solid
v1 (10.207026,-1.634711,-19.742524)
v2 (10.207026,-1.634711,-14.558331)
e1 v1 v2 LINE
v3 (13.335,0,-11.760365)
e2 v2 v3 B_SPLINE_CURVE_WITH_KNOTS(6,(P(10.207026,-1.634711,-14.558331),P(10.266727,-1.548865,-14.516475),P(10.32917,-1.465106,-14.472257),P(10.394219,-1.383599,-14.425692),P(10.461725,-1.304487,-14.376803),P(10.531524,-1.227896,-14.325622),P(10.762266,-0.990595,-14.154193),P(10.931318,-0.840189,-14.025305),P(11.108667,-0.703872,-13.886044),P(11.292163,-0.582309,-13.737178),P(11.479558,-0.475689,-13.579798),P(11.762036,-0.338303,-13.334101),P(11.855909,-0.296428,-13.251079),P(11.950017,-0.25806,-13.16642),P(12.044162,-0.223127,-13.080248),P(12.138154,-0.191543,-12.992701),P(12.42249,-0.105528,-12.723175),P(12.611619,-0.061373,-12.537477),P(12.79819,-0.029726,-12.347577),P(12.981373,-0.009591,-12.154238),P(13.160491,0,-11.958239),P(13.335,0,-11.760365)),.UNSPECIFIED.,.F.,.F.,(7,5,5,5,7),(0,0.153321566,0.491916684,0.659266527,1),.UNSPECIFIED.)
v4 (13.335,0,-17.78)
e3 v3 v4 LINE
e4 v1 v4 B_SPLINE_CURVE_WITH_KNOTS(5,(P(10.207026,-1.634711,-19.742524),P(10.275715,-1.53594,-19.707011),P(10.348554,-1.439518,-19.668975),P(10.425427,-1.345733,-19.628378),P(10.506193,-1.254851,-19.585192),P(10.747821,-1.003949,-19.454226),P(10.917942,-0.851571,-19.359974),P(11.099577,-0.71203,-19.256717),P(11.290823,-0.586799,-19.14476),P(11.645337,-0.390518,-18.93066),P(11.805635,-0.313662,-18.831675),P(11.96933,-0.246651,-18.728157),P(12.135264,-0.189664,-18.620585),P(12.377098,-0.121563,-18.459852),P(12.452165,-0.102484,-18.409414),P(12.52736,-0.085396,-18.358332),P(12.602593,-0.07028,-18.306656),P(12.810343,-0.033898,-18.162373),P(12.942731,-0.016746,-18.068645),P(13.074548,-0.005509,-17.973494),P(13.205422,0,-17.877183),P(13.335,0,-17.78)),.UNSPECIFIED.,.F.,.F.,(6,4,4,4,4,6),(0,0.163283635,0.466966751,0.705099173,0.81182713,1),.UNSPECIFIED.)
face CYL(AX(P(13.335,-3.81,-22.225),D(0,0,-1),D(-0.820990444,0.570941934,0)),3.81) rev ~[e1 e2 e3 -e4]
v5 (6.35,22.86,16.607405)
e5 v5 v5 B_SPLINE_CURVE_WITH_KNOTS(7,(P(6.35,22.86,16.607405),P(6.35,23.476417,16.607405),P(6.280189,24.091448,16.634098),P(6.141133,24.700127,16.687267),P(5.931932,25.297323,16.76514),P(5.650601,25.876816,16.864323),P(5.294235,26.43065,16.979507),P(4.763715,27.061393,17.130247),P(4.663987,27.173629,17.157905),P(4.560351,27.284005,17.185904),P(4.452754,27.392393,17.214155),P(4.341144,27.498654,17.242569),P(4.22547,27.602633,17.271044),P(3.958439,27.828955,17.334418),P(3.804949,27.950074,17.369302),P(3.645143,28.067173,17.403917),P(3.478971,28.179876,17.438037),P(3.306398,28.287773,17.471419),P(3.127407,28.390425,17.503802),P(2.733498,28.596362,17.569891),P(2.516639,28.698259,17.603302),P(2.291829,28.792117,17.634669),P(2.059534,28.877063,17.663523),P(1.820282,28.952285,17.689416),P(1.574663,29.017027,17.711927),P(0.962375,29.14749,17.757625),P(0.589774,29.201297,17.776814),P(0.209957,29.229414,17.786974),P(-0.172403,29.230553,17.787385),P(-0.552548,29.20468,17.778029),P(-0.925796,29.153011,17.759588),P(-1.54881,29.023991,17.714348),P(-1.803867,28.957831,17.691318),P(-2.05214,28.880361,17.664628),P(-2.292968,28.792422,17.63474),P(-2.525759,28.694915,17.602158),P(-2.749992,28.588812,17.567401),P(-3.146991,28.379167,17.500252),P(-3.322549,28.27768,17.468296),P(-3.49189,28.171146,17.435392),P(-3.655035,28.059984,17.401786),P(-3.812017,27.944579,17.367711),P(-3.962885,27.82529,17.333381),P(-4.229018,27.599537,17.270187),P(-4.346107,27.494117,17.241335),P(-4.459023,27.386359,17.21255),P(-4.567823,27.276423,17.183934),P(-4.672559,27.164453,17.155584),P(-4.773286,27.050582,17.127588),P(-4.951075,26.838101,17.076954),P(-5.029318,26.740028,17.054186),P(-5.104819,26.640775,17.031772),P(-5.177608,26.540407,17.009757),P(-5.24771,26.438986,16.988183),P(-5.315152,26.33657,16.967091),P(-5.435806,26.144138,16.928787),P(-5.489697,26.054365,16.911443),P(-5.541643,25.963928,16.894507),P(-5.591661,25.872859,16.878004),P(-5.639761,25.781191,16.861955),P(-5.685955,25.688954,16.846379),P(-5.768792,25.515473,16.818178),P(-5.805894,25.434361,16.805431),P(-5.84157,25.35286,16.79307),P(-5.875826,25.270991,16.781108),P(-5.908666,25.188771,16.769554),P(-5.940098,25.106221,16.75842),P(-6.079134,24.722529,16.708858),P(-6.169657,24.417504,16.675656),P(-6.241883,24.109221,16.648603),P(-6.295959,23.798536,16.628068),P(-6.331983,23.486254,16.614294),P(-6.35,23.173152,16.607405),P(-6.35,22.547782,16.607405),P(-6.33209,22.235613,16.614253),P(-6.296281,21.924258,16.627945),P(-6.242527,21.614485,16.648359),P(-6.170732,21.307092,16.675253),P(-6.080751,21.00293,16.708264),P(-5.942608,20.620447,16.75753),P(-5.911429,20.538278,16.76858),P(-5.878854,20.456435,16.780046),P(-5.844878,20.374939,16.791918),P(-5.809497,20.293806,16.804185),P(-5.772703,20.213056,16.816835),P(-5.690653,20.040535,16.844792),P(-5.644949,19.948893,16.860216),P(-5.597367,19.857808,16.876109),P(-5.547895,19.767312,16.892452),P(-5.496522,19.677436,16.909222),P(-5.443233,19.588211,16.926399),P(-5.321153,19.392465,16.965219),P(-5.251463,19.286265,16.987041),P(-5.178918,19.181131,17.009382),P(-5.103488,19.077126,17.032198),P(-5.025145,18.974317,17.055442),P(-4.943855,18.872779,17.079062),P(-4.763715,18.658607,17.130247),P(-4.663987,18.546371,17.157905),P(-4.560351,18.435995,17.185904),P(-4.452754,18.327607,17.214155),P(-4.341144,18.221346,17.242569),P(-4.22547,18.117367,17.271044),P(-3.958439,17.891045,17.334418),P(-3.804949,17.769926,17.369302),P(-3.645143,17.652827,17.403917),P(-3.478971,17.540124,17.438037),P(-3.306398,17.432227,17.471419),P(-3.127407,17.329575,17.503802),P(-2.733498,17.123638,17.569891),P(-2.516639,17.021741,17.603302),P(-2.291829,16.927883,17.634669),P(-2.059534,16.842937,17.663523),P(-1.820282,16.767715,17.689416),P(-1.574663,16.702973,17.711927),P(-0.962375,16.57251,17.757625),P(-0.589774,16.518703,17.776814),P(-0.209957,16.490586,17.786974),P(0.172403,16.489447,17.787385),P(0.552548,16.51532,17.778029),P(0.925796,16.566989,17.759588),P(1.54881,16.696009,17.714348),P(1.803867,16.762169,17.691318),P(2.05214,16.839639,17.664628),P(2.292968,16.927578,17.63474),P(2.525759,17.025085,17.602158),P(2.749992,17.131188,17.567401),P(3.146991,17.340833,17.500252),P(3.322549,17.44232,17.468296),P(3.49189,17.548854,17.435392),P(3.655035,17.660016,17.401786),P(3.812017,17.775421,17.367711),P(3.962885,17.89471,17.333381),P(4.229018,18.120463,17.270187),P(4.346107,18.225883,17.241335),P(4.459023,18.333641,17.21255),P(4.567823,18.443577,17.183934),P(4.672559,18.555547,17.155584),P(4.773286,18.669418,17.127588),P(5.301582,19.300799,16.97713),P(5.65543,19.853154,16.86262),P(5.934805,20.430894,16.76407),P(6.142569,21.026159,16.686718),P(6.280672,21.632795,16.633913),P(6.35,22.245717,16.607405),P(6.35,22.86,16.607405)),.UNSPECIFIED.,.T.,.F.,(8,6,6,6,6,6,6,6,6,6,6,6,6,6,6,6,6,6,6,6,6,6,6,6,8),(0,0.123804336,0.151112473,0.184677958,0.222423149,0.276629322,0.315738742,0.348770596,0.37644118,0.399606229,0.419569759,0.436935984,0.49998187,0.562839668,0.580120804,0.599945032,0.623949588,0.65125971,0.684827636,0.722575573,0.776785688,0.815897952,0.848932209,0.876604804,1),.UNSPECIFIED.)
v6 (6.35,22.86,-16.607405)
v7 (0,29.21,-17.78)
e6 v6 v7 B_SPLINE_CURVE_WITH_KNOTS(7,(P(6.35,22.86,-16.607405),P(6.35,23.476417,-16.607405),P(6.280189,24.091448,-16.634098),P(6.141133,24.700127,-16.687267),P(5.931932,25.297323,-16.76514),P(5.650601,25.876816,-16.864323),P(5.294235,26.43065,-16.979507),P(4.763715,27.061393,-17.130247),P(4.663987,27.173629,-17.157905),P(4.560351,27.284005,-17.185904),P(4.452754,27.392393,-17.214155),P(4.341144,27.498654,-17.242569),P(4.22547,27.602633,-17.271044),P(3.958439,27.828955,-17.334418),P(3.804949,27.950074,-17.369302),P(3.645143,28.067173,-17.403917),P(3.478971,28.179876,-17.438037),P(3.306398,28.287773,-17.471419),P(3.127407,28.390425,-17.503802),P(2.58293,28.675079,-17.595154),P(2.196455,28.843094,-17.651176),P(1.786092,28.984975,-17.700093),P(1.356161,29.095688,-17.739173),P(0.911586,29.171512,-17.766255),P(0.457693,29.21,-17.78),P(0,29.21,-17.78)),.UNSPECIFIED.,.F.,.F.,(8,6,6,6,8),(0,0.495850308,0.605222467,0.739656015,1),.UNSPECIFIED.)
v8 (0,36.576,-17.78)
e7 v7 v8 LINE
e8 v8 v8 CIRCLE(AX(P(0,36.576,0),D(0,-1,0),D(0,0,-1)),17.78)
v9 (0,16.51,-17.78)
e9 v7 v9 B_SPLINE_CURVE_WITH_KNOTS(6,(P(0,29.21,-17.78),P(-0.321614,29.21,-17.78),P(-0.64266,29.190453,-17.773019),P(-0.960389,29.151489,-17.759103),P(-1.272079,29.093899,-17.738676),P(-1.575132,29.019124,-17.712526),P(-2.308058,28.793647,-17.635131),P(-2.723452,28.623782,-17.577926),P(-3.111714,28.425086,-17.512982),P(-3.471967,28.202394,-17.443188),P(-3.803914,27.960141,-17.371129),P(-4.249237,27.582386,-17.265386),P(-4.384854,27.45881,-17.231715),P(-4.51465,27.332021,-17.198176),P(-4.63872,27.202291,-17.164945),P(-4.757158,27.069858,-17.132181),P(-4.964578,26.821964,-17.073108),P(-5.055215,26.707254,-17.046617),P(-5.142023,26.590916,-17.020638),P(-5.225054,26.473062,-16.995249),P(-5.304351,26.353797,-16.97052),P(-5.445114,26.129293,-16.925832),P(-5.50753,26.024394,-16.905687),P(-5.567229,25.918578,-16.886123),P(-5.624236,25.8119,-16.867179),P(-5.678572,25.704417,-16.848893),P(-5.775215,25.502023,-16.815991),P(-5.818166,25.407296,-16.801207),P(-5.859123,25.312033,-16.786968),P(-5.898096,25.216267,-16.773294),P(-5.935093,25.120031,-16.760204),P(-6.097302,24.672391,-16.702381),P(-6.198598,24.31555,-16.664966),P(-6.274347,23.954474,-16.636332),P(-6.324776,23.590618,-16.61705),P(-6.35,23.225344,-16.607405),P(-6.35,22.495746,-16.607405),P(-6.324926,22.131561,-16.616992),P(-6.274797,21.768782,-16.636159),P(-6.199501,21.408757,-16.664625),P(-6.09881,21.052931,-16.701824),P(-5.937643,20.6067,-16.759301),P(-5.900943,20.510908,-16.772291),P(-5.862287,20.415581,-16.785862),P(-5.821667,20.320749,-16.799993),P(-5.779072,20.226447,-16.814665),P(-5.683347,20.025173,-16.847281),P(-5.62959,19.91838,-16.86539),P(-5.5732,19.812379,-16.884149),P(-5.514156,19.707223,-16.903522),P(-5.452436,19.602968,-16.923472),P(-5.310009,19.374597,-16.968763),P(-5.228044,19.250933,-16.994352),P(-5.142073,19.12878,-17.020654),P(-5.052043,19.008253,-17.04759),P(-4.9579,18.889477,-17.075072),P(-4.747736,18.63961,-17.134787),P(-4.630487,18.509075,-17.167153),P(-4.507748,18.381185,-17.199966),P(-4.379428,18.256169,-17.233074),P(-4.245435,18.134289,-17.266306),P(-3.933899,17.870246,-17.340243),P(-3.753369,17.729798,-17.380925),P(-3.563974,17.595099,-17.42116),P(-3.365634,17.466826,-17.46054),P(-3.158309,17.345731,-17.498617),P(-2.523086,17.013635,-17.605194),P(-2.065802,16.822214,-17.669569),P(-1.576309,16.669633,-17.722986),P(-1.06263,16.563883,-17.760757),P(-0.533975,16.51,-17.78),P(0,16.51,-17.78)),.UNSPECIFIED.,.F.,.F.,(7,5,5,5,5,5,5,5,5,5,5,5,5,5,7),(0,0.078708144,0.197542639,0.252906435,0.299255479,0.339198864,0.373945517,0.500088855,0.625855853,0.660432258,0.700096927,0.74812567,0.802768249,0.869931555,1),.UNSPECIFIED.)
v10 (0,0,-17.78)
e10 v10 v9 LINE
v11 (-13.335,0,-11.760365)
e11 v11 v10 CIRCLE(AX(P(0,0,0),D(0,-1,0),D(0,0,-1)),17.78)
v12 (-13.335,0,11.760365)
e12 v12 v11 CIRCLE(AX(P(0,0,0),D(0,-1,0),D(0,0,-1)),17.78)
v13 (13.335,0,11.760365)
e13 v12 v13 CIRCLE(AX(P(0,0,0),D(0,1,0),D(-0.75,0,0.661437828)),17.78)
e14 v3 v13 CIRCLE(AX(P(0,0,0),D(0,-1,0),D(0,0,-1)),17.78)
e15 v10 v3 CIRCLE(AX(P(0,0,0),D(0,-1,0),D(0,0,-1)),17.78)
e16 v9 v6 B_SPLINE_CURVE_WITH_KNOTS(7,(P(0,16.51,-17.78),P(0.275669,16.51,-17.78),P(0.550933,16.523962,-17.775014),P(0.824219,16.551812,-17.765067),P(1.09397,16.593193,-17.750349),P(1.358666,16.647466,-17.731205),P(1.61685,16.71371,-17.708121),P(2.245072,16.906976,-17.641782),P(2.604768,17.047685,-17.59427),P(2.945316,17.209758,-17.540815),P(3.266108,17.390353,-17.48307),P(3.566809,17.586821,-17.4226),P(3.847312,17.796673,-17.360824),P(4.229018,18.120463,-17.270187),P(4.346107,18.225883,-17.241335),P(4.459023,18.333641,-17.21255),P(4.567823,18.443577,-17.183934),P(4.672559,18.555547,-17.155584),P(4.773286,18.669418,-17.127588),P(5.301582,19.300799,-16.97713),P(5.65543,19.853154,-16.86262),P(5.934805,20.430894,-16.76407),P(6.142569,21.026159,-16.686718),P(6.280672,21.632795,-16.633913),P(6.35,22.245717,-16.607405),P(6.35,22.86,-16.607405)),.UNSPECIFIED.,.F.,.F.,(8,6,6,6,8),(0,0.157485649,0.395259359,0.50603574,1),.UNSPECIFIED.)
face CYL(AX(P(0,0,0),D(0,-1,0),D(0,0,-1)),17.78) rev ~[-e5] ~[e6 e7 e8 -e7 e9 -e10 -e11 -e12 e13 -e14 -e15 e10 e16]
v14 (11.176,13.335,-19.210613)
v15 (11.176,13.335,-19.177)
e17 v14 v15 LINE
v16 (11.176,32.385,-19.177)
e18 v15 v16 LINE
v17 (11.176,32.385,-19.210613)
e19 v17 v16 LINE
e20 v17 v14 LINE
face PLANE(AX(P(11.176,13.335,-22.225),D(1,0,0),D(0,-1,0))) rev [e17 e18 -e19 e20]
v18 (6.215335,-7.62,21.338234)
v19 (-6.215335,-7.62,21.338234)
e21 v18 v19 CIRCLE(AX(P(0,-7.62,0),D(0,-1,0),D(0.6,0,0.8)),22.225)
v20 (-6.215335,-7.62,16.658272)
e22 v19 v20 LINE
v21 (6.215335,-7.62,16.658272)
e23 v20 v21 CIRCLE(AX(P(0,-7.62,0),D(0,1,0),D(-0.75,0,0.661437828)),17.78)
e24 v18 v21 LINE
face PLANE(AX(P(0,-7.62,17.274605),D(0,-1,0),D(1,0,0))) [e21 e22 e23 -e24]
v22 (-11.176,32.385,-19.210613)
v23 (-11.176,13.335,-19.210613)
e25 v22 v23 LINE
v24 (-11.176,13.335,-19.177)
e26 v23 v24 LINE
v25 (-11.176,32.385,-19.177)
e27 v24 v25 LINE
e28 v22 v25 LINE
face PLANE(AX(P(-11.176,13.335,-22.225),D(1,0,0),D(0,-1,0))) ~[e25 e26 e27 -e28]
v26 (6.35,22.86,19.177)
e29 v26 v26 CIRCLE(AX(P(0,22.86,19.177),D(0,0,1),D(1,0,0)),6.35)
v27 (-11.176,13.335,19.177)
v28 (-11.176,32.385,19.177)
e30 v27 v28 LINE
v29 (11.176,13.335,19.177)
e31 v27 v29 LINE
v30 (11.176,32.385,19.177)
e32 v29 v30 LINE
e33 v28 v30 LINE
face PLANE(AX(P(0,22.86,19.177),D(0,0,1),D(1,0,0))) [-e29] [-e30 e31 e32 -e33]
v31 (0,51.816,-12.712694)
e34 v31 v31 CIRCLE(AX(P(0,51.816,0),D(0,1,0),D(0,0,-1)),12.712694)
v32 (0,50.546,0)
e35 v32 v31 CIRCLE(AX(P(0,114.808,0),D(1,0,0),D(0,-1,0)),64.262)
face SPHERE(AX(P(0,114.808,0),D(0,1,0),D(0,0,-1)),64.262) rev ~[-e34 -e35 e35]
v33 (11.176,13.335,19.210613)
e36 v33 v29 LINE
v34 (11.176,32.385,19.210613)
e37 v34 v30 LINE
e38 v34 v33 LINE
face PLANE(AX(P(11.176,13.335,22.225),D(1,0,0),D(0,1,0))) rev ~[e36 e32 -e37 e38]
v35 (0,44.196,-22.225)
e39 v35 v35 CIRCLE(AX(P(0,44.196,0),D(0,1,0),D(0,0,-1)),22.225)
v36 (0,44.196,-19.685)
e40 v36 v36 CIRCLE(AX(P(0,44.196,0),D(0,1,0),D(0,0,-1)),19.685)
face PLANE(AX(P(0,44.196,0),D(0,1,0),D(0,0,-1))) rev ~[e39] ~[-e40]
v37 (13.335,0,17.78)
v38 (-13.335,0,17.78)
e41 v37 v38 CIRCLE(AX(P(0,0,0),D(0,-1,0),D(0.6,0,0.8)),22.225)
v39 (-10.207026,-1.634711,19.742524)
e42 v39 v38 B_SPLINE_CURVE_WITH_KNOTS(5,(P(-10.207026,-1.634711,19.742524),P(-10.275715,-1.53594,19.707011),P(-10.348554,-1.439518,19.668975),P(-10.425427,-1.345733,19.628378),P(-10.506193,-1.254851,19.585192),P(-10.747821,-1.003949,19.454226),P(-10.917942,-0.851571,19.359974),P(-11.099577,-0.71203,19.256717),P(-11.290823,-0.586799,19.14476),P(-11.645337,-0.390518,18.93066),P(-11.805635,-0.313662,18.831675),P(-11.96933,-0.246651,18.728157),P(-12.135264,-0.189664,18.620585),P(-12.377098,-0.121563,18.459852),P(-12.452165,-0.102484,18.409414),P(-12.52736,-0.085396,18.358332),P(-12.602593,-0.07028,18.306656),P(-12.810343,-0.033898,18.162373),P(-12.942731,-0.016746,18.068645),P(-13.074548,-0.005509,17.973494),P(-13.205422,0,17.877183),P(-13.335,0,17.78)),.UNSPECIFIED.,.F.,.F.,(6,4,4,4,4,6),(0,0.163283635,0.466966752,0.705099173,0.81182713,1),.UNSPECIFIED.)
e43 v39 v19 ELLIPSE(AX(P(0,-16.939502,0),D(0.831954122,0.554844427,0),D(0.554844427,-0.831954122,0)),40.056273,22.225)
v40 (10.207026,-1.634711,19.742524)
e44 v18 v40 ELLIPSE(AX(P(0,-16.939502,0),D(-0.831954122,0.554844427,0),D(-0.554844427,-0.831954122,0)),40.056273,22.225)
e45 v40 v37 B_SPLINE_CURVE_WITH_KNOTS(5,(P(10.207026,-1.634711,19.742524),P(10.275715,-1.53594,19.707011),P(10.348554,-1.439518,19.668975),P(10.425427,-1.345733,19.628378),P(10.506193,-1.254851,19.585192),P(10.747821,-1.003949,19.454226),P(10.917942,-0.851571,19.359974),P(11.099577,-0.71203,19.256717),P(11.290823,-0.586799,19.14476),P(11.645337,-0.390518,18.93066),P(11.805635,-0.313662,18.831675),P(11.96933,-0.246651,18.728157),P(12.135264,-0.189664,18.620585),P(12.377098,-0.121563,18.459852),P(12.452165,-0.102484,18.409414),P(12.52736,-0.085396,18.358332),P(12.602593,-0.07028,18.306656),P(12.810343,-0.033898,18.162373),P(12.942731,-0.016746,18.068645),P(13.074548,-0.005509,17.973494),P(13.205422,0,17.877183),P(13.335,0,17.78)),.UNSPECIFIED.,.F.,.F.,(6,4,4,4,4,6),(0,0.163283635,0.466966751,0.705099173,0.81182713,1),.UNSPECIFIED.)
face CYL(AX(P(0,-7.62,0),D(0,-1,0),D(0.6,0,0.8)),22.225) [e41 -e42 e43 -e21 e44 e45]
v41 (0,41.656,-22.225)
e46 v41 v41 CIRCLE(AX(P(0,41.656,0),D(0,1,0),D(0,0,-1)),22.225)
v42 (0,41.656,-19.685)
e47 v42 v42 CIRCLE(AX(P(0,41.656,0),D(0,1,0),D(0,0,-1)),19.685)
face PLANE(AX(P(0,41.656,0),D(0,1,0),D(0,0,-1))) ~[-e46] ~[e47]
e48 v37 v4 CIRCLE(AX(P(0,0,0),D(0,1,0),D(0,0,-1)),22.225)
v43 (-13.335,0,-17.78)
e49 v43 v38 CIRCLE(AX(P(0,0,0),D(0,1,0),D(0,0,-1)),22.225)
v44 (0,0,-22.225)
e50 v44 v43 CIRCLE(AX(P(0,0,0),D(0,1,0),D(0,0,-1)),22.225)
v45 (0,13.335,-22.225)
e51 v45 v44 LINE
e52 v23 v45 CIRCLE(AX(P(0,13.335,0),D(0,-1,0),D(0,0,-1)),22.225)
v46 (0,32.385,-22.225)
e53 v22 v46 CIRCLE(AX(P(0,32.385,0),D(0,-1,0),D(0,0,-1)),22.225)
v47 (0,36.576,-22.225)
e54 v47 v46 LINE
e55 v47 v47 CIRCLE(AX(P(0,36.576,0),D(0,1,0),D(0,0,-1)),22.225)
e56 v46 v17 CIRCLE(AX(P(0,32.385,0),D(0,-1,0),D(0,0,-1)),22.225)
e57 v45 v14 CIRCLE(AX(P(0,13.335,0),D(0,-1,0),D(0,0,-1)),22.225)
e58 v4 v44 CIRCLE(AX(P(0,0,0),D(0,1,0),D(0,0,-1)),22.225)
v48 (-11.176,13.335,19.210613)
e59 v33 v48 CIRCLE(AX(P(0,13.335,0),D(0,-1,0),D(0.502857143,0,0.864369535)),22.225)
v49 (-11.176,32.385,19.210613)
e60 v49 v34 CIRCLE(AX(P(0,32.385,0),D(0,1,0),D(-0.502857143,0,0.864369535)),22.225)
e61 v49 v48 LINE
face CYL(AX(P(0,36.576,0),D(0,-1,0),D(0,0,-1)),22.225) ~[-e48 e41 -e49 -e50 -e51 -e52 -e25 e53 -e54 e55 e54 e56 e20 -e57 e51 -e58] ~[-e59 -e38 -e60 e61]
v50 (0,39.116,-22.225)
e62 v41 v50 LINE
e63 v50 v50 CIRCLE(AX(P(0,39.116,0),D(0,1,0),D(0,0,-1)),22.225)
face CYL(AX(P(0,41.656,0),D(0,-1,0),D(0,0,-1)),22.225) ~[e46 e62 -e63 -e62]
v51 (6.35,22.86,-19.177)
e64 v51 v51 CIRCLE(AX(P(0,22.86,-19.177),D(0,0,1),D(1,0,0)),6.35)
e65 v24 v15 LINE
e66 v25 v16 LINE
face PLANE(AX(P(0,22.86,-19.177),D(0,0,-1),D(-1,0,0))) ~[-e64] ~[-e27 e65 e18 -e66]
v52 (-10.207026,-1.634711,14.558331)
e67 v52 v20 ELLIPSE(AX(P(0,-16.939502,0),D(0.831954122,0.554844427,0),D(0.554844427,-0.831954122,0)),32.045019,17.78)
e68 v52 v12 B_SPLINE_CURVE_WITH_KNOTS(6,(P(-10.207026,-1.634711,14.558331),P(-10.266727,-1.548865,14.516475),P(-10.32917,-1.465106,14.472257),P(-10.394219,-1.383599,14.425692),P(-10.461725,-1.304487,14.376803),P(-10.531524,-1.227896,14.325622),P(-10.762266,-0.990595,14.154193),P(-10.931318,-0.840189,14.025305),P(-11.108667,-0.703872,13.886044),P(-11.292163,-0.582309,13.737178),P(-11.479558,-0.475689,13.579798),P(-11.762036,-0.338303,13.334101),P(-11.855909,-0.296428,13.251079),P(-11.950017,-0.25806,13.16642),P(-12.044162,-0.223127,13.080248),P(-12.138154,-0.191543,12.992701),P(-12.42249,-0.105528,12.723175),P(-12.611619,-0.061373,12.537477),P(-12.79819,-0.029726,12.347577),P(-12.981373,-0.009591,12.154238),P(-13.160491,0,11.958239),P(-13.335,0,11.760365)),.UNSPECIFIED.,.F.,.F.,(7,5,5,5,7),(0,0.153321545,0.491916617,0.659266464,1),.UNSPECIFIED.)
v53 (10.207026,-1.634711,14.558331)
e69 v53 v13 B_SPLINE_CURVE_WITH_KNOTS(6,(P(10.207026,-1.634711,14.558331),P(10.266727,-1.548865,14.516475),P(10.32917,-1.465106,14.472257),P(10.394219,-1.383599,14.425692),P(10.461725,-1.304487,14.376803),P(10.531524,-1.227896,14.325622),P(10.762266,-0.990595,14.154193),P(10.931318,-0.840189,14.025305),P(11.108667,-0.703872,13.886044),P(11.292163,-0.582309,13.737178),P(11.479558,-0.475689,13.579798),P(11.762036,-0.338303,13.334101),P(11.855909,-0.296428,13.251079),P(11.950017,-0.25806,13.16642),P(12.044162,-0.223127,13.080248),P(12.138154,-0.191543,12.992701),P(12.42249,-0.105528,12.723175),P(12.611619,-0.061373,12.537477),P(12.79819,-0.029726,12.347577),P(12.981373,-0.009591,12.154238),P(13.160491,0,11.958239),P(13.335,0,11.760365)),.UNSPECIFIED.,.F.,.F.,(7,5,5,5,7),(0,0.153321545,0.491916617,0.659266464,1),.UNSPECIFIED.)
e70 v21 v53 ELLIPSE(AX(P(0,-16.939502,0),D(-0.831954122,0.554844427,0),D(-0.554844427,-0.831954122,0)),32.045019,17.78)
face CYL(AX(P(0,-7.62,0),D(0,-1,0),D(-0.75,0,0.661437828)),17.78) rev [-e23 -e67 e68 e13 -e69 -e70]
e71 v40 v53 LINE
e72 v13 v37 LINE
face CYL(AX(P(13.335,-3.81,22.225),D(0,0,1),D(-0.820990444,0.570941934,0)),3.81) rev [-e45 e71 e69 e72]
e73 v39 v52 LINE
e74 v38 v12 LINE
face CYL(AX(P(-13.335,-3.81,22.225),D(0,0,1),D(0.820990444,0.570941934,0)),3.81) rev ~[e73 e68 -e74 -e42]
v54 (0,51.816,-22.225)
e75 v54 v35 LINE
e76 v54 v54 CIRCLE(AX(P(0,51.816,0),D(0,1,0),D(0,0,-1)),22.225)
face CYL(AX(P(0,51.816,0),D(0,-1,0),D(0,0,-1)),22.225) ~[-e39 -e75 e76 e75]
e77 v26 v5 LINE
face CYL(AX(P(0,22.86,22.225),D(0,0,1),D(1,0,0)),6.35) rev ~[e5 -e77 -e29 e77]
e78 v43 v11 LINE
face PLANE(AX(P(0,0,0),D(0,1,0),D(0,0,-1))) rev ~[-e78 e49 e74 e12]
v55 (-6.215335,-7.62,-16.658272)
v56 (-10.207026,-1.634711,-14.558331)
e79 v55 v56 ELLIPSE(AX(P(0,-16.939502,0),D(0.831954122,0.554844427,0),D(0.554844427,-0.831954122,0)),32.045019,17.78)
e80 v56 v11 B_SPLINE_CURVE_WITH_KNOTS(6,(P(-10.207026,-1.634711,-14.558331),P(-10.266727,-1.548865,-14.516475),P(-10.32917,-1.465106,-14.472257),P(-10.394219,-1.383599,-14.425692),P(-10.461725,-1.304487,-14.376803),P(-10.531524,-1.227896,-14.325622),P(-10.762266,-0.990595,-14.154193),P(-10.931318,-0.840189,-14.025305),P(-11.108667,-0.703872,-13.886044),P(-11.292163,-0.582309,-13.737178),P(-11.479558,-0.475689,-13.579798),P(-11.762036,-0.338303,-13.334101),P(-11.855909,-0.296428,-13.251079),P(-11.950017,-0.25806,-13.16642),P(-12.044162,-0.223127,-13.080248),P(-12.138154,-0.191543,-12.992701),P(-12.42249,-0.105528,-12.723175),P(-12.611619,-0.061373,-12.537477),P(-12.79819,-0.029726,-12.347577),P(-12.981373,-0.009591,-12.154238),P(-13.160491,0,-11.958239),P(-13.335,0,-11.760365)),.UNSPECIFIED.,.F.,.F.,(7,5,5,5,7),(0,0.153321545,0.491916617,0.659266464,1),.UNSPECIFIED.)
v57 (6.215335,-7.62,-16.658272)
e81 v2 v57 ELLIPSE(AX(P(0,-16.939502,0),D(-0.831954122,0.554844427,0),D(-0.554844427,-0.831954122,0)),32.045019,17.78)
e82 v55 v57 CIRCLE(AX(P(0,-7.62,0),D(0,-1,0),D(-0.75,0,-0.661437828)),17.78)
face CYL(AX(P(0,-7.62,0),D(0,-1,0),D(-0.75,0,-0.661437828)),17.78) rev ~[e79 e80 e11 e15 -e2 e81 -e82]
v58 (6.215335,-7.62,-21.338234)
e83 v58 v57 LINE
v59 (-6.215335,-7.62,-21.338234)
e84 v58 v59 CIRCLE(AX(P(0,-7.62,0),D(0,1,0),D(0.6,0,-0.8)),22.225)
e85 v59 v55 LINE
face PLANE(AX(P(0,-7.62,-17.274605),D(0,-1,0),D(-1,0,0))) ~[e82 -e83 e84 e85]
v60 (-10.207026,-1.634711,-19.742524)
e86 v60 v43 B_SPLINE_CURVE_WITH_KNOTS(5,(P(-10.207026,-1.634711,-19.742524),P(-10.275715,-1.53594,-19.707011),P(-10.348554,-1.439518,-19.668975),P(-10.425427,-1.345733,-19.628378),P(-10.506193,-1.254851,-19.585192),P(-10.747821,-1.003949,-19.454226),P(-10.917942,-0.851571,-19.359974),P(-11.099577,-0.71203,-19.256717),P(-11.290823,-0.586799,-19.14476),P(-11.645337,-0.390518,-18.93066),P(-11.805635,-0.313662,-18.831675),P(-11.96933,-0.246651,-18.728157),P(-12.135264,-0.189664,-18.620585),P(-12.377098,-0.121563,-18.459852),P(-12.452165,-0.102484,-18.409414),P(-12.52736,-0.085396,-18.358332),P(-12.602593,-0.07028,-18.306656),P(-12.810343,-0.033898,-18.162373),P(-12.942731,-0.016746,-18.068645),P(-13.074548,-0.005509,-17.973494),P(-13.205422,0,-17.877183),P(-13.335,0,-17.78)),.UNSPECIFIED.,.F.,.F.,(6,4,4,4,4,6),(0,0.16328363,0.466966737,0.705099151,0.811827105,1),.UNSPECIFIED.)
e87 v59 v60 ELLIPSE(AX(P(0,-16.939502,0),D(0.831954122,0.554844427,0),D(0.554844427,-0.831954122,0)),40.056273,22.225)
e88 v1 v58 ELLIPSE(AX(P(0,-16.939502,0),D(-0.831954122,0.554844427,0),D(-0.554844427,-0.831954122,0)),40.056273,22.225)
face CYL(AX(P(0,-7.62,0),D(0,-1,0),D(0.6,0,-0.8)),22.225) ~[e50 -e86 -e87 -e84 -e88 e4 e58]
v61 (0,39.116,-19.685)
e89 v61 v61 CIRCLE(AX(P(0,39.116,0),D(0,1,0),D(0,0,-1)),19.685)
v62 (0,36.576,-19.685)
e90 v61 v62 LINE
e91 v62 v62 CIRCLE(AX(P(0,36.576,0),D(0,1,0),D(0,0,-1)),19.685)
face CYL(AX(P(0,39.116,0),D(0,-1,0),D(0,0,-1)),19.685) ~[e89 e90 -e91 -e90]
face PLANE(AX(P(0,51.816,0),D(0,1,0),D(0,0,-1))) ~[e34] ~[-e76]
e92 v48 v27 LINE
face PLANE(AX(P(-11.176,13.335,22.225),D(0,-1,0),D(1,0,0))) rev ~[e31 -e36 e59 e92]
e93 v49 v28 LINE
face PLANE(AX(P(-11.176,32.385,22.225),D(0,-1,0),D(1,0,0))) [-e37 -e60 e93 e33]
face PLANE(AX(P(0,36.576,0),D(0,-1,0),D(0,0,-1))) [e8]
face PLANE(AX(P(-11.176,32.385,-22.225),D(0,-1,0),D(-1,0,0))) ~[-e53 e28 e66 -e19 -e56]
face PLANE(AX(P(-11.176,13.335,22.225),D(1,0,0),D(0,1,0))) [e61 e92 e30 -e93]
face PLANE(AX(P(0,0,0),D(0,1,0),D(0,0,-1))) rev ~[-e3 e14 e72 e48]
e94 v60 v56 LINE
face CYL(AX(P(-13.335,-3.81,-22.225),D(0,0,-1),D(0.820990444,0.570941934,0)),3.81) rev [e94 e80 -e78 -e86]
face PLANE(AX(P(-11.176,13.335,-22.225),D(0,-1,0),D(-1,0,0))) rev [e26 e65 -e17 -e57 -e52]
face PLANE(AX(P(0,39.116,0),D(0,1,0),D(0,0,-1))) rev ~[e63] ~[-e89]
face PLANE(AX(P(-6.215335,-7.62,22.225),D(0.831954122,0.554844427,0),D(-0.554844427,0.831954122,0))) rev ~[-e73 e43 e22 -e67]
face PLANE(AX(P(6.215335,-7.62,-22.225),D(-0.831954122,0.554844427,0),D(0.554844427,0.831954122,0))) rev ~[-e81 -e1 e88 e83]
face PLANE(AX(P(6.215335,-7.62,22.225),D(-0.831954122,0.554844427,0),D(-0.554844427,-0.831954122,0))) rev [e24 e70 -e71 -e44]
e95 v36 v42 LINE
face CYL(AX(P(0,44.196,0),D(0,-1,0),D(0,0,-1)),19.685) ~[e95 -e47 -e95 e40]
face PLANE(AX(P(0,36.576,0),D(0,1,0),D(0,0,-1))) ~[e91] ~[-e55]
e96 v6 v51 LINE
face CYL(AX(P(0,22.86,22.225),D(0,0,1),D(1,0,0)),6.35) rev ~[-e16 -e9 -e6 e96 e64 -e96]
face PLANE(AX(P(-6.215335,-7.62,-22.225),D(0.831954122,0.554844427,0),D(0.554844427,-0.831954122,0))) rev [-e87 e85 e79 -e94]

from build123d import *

# Parameters (mm, degrees)
SKETCH2_R            = 6.35
CUT_EXTRUDE2_DEPTH   = 72.795898079
SKETCH2_4_W          = 22.352
SKETCH2_4_H          = 19.05
SKETCH2_4_R          = 6.35
CUT_EXTRUDE3_DEPTH   = 3.048
SKETCH3_R            = 17.78
CUT_EXTRUDE4_DEPTH   = 36.576
BOSS_EXTRUDE1_START  = 7.62
BOSS_EXTRUDE1_DEPTH  = 7.62
CUT_EXTRUDE5_DEPTH   = 12.7
MIRROR3_COPY_1_DEPTH = 12.7


with BuildPart() as part:
    # Sketch1 → Revolve1 (revolve)
    with BuildSketch(Plane.XY):
        with BuildLine():
            Line((0, 0), (0, 50.546))
            ThreePointArc((0, 50.546), (6.387986381, 50.864288237), (12.712693656, 51.816))
            Line((12.712693656, 51.816), (22.225, 51.816))
            Line((22.225, 51.816), (22.225, 44.196))
            Line((22.225, 44.196), (19.685, 44.196))
            Line((19.685, 44.196), (19.685, 41.656))
            Line((19.685, 41.656), (22.225, 41.656))
            Line((22.225, 41.656), (22.225, 39.116))
            Line((22.225, 39.116), (19.685, 39.116))
            Line((19.685, 39.116), (19.685, 36.576))
            Line((19.685, 36.576), (22.225, 36.576))
            Line((22.225, 36.576), (22.225, 0))
            Line((22.225, 0), (0, 0))
        make_face()
    revolve(axis=Axis((0, 0, 0), (0, 1, 0)))

    # Sketch2 → Cut-Extrude2 (cut, through all)
    with BuildSketch(Plane.XY.offset(22.225)):
        with Locations((0, 22.86)):
            Circle(SKETCH2_R)
    extrude(amount=-CUT_EXTRUDE2_DEPTH, mode=Mode.SUBTRACT)

    # Sketch2<4> → Cut-Extrude3 (cut)
    with BuildSketch(Plane.XY.offset(22.225)):
        with Locations((0, 22.86)):
            Rectangle(SKETCH2_4_W, SKETCH2_4_H)
        with Locations((0, 22.86)):
            Circle(SKETCH2_4_R, mode=Mode.SUBTRACT)
    cut_extrude3 = extrude(amount=-CUT_EXTRUDE3_DEPTH, mode=Mode.SUBTRACT)

    # Mirror1: Cut-Extrude3 across plane
    add(cut_extrude3.mirror(Plane.XY), mode=Mode.SUBTRACT)

    # Sketch3 → Cut-Extrude4 (cut)
    with BuildSketch(Plane.XZ):
        Circle(SKETCH3_R)
    extrude(amount=-CUT_EXTRUDE4_DEPTH, mode=Mode.SUBTRACT)

    # Sketch4 → Boss-Extrude1 (add)
    with BuildSketch(Plane.XZ.offset(BOSS_EXTRUDE1_START)):
        with BuildLine():
            Line((-13.335, 17.78), (-13.335, 11.760364578))
            ThreePointArc((-13.335, 11.760364578), (0, 17.78), (13.335, 11.760364578))
            Line((13.335, 11.760364578), (13.335, 17.78))
            ThreePointArc((13.335, 17.78), (0, 22.225), (-13.335, 17.78))
        make_face()
    boss_extrude1 = extrude(amount=-BOSS_EXTRUDE1_DEPTH)

    # Sketch5 → Cut-Extrude5 (cut)
    with BuildSketch(Plane.XY.offset(22.225)):
        with BuildLine():
            Line((-6.215335004, -7.62), (-10.207026408, -1.634711235))
            ThreePointArc((-10.207026408, -1.634711235), (-11.57031167, -0.433318923), (-13.335, 0))
            Line((-13.335, 0), (-13.335, -7.62))
            Line((-13.335, -7.62), (-6.215335004, -7.62))
        make_face()
    cut_extrude5 = extrude(amount=-CUT_EXTRUDE5_DEPTH, mode=Mode.SUBTRACT)

    # Mirror2: Cut-Extrude5 across plane
    add(cut_extrude5.mirror(Plane(origin=(0, 0, 0), x_dir=(0, 0, 1), z_dir=(1, 0, 0))), mode=Mode.SUBTRACT)

    # Mirror3: Boss-Extrude1, Cut-Extrude5 across plane
    add(boss_extrude1.mirror(Plane.XY))
    add(cut_extrude5.mirror(Plane.XY), mode=Mode.SUBTRACT)

    # Mirror3 copy 1 sketch → Mirror3 copy 1 (cut)
    with BuildSketch(Plane(origin=(0, 0, -22.225), x_dir=(-1, 0, 0), z_dir=(0, 0, -1))):
        with BuildLine():
            Line((-6.215335004, -7.62), (-10.207026408, -1.634711235))
            ThreePointArc((-10.207026408, -1.634711235), (-11.57031167, -0.433318923), (-13.335, 0))
            Line((-13.335, 0), (-13.335, -7.62))
            Line((-13.335, -7.62), (-6.215335004, -7.62))
        make_face()
    extrude(amount=-MIRROR3_COPY_1_DEPTH, mode=Mode.SUBTRACT)


solid = part.part
